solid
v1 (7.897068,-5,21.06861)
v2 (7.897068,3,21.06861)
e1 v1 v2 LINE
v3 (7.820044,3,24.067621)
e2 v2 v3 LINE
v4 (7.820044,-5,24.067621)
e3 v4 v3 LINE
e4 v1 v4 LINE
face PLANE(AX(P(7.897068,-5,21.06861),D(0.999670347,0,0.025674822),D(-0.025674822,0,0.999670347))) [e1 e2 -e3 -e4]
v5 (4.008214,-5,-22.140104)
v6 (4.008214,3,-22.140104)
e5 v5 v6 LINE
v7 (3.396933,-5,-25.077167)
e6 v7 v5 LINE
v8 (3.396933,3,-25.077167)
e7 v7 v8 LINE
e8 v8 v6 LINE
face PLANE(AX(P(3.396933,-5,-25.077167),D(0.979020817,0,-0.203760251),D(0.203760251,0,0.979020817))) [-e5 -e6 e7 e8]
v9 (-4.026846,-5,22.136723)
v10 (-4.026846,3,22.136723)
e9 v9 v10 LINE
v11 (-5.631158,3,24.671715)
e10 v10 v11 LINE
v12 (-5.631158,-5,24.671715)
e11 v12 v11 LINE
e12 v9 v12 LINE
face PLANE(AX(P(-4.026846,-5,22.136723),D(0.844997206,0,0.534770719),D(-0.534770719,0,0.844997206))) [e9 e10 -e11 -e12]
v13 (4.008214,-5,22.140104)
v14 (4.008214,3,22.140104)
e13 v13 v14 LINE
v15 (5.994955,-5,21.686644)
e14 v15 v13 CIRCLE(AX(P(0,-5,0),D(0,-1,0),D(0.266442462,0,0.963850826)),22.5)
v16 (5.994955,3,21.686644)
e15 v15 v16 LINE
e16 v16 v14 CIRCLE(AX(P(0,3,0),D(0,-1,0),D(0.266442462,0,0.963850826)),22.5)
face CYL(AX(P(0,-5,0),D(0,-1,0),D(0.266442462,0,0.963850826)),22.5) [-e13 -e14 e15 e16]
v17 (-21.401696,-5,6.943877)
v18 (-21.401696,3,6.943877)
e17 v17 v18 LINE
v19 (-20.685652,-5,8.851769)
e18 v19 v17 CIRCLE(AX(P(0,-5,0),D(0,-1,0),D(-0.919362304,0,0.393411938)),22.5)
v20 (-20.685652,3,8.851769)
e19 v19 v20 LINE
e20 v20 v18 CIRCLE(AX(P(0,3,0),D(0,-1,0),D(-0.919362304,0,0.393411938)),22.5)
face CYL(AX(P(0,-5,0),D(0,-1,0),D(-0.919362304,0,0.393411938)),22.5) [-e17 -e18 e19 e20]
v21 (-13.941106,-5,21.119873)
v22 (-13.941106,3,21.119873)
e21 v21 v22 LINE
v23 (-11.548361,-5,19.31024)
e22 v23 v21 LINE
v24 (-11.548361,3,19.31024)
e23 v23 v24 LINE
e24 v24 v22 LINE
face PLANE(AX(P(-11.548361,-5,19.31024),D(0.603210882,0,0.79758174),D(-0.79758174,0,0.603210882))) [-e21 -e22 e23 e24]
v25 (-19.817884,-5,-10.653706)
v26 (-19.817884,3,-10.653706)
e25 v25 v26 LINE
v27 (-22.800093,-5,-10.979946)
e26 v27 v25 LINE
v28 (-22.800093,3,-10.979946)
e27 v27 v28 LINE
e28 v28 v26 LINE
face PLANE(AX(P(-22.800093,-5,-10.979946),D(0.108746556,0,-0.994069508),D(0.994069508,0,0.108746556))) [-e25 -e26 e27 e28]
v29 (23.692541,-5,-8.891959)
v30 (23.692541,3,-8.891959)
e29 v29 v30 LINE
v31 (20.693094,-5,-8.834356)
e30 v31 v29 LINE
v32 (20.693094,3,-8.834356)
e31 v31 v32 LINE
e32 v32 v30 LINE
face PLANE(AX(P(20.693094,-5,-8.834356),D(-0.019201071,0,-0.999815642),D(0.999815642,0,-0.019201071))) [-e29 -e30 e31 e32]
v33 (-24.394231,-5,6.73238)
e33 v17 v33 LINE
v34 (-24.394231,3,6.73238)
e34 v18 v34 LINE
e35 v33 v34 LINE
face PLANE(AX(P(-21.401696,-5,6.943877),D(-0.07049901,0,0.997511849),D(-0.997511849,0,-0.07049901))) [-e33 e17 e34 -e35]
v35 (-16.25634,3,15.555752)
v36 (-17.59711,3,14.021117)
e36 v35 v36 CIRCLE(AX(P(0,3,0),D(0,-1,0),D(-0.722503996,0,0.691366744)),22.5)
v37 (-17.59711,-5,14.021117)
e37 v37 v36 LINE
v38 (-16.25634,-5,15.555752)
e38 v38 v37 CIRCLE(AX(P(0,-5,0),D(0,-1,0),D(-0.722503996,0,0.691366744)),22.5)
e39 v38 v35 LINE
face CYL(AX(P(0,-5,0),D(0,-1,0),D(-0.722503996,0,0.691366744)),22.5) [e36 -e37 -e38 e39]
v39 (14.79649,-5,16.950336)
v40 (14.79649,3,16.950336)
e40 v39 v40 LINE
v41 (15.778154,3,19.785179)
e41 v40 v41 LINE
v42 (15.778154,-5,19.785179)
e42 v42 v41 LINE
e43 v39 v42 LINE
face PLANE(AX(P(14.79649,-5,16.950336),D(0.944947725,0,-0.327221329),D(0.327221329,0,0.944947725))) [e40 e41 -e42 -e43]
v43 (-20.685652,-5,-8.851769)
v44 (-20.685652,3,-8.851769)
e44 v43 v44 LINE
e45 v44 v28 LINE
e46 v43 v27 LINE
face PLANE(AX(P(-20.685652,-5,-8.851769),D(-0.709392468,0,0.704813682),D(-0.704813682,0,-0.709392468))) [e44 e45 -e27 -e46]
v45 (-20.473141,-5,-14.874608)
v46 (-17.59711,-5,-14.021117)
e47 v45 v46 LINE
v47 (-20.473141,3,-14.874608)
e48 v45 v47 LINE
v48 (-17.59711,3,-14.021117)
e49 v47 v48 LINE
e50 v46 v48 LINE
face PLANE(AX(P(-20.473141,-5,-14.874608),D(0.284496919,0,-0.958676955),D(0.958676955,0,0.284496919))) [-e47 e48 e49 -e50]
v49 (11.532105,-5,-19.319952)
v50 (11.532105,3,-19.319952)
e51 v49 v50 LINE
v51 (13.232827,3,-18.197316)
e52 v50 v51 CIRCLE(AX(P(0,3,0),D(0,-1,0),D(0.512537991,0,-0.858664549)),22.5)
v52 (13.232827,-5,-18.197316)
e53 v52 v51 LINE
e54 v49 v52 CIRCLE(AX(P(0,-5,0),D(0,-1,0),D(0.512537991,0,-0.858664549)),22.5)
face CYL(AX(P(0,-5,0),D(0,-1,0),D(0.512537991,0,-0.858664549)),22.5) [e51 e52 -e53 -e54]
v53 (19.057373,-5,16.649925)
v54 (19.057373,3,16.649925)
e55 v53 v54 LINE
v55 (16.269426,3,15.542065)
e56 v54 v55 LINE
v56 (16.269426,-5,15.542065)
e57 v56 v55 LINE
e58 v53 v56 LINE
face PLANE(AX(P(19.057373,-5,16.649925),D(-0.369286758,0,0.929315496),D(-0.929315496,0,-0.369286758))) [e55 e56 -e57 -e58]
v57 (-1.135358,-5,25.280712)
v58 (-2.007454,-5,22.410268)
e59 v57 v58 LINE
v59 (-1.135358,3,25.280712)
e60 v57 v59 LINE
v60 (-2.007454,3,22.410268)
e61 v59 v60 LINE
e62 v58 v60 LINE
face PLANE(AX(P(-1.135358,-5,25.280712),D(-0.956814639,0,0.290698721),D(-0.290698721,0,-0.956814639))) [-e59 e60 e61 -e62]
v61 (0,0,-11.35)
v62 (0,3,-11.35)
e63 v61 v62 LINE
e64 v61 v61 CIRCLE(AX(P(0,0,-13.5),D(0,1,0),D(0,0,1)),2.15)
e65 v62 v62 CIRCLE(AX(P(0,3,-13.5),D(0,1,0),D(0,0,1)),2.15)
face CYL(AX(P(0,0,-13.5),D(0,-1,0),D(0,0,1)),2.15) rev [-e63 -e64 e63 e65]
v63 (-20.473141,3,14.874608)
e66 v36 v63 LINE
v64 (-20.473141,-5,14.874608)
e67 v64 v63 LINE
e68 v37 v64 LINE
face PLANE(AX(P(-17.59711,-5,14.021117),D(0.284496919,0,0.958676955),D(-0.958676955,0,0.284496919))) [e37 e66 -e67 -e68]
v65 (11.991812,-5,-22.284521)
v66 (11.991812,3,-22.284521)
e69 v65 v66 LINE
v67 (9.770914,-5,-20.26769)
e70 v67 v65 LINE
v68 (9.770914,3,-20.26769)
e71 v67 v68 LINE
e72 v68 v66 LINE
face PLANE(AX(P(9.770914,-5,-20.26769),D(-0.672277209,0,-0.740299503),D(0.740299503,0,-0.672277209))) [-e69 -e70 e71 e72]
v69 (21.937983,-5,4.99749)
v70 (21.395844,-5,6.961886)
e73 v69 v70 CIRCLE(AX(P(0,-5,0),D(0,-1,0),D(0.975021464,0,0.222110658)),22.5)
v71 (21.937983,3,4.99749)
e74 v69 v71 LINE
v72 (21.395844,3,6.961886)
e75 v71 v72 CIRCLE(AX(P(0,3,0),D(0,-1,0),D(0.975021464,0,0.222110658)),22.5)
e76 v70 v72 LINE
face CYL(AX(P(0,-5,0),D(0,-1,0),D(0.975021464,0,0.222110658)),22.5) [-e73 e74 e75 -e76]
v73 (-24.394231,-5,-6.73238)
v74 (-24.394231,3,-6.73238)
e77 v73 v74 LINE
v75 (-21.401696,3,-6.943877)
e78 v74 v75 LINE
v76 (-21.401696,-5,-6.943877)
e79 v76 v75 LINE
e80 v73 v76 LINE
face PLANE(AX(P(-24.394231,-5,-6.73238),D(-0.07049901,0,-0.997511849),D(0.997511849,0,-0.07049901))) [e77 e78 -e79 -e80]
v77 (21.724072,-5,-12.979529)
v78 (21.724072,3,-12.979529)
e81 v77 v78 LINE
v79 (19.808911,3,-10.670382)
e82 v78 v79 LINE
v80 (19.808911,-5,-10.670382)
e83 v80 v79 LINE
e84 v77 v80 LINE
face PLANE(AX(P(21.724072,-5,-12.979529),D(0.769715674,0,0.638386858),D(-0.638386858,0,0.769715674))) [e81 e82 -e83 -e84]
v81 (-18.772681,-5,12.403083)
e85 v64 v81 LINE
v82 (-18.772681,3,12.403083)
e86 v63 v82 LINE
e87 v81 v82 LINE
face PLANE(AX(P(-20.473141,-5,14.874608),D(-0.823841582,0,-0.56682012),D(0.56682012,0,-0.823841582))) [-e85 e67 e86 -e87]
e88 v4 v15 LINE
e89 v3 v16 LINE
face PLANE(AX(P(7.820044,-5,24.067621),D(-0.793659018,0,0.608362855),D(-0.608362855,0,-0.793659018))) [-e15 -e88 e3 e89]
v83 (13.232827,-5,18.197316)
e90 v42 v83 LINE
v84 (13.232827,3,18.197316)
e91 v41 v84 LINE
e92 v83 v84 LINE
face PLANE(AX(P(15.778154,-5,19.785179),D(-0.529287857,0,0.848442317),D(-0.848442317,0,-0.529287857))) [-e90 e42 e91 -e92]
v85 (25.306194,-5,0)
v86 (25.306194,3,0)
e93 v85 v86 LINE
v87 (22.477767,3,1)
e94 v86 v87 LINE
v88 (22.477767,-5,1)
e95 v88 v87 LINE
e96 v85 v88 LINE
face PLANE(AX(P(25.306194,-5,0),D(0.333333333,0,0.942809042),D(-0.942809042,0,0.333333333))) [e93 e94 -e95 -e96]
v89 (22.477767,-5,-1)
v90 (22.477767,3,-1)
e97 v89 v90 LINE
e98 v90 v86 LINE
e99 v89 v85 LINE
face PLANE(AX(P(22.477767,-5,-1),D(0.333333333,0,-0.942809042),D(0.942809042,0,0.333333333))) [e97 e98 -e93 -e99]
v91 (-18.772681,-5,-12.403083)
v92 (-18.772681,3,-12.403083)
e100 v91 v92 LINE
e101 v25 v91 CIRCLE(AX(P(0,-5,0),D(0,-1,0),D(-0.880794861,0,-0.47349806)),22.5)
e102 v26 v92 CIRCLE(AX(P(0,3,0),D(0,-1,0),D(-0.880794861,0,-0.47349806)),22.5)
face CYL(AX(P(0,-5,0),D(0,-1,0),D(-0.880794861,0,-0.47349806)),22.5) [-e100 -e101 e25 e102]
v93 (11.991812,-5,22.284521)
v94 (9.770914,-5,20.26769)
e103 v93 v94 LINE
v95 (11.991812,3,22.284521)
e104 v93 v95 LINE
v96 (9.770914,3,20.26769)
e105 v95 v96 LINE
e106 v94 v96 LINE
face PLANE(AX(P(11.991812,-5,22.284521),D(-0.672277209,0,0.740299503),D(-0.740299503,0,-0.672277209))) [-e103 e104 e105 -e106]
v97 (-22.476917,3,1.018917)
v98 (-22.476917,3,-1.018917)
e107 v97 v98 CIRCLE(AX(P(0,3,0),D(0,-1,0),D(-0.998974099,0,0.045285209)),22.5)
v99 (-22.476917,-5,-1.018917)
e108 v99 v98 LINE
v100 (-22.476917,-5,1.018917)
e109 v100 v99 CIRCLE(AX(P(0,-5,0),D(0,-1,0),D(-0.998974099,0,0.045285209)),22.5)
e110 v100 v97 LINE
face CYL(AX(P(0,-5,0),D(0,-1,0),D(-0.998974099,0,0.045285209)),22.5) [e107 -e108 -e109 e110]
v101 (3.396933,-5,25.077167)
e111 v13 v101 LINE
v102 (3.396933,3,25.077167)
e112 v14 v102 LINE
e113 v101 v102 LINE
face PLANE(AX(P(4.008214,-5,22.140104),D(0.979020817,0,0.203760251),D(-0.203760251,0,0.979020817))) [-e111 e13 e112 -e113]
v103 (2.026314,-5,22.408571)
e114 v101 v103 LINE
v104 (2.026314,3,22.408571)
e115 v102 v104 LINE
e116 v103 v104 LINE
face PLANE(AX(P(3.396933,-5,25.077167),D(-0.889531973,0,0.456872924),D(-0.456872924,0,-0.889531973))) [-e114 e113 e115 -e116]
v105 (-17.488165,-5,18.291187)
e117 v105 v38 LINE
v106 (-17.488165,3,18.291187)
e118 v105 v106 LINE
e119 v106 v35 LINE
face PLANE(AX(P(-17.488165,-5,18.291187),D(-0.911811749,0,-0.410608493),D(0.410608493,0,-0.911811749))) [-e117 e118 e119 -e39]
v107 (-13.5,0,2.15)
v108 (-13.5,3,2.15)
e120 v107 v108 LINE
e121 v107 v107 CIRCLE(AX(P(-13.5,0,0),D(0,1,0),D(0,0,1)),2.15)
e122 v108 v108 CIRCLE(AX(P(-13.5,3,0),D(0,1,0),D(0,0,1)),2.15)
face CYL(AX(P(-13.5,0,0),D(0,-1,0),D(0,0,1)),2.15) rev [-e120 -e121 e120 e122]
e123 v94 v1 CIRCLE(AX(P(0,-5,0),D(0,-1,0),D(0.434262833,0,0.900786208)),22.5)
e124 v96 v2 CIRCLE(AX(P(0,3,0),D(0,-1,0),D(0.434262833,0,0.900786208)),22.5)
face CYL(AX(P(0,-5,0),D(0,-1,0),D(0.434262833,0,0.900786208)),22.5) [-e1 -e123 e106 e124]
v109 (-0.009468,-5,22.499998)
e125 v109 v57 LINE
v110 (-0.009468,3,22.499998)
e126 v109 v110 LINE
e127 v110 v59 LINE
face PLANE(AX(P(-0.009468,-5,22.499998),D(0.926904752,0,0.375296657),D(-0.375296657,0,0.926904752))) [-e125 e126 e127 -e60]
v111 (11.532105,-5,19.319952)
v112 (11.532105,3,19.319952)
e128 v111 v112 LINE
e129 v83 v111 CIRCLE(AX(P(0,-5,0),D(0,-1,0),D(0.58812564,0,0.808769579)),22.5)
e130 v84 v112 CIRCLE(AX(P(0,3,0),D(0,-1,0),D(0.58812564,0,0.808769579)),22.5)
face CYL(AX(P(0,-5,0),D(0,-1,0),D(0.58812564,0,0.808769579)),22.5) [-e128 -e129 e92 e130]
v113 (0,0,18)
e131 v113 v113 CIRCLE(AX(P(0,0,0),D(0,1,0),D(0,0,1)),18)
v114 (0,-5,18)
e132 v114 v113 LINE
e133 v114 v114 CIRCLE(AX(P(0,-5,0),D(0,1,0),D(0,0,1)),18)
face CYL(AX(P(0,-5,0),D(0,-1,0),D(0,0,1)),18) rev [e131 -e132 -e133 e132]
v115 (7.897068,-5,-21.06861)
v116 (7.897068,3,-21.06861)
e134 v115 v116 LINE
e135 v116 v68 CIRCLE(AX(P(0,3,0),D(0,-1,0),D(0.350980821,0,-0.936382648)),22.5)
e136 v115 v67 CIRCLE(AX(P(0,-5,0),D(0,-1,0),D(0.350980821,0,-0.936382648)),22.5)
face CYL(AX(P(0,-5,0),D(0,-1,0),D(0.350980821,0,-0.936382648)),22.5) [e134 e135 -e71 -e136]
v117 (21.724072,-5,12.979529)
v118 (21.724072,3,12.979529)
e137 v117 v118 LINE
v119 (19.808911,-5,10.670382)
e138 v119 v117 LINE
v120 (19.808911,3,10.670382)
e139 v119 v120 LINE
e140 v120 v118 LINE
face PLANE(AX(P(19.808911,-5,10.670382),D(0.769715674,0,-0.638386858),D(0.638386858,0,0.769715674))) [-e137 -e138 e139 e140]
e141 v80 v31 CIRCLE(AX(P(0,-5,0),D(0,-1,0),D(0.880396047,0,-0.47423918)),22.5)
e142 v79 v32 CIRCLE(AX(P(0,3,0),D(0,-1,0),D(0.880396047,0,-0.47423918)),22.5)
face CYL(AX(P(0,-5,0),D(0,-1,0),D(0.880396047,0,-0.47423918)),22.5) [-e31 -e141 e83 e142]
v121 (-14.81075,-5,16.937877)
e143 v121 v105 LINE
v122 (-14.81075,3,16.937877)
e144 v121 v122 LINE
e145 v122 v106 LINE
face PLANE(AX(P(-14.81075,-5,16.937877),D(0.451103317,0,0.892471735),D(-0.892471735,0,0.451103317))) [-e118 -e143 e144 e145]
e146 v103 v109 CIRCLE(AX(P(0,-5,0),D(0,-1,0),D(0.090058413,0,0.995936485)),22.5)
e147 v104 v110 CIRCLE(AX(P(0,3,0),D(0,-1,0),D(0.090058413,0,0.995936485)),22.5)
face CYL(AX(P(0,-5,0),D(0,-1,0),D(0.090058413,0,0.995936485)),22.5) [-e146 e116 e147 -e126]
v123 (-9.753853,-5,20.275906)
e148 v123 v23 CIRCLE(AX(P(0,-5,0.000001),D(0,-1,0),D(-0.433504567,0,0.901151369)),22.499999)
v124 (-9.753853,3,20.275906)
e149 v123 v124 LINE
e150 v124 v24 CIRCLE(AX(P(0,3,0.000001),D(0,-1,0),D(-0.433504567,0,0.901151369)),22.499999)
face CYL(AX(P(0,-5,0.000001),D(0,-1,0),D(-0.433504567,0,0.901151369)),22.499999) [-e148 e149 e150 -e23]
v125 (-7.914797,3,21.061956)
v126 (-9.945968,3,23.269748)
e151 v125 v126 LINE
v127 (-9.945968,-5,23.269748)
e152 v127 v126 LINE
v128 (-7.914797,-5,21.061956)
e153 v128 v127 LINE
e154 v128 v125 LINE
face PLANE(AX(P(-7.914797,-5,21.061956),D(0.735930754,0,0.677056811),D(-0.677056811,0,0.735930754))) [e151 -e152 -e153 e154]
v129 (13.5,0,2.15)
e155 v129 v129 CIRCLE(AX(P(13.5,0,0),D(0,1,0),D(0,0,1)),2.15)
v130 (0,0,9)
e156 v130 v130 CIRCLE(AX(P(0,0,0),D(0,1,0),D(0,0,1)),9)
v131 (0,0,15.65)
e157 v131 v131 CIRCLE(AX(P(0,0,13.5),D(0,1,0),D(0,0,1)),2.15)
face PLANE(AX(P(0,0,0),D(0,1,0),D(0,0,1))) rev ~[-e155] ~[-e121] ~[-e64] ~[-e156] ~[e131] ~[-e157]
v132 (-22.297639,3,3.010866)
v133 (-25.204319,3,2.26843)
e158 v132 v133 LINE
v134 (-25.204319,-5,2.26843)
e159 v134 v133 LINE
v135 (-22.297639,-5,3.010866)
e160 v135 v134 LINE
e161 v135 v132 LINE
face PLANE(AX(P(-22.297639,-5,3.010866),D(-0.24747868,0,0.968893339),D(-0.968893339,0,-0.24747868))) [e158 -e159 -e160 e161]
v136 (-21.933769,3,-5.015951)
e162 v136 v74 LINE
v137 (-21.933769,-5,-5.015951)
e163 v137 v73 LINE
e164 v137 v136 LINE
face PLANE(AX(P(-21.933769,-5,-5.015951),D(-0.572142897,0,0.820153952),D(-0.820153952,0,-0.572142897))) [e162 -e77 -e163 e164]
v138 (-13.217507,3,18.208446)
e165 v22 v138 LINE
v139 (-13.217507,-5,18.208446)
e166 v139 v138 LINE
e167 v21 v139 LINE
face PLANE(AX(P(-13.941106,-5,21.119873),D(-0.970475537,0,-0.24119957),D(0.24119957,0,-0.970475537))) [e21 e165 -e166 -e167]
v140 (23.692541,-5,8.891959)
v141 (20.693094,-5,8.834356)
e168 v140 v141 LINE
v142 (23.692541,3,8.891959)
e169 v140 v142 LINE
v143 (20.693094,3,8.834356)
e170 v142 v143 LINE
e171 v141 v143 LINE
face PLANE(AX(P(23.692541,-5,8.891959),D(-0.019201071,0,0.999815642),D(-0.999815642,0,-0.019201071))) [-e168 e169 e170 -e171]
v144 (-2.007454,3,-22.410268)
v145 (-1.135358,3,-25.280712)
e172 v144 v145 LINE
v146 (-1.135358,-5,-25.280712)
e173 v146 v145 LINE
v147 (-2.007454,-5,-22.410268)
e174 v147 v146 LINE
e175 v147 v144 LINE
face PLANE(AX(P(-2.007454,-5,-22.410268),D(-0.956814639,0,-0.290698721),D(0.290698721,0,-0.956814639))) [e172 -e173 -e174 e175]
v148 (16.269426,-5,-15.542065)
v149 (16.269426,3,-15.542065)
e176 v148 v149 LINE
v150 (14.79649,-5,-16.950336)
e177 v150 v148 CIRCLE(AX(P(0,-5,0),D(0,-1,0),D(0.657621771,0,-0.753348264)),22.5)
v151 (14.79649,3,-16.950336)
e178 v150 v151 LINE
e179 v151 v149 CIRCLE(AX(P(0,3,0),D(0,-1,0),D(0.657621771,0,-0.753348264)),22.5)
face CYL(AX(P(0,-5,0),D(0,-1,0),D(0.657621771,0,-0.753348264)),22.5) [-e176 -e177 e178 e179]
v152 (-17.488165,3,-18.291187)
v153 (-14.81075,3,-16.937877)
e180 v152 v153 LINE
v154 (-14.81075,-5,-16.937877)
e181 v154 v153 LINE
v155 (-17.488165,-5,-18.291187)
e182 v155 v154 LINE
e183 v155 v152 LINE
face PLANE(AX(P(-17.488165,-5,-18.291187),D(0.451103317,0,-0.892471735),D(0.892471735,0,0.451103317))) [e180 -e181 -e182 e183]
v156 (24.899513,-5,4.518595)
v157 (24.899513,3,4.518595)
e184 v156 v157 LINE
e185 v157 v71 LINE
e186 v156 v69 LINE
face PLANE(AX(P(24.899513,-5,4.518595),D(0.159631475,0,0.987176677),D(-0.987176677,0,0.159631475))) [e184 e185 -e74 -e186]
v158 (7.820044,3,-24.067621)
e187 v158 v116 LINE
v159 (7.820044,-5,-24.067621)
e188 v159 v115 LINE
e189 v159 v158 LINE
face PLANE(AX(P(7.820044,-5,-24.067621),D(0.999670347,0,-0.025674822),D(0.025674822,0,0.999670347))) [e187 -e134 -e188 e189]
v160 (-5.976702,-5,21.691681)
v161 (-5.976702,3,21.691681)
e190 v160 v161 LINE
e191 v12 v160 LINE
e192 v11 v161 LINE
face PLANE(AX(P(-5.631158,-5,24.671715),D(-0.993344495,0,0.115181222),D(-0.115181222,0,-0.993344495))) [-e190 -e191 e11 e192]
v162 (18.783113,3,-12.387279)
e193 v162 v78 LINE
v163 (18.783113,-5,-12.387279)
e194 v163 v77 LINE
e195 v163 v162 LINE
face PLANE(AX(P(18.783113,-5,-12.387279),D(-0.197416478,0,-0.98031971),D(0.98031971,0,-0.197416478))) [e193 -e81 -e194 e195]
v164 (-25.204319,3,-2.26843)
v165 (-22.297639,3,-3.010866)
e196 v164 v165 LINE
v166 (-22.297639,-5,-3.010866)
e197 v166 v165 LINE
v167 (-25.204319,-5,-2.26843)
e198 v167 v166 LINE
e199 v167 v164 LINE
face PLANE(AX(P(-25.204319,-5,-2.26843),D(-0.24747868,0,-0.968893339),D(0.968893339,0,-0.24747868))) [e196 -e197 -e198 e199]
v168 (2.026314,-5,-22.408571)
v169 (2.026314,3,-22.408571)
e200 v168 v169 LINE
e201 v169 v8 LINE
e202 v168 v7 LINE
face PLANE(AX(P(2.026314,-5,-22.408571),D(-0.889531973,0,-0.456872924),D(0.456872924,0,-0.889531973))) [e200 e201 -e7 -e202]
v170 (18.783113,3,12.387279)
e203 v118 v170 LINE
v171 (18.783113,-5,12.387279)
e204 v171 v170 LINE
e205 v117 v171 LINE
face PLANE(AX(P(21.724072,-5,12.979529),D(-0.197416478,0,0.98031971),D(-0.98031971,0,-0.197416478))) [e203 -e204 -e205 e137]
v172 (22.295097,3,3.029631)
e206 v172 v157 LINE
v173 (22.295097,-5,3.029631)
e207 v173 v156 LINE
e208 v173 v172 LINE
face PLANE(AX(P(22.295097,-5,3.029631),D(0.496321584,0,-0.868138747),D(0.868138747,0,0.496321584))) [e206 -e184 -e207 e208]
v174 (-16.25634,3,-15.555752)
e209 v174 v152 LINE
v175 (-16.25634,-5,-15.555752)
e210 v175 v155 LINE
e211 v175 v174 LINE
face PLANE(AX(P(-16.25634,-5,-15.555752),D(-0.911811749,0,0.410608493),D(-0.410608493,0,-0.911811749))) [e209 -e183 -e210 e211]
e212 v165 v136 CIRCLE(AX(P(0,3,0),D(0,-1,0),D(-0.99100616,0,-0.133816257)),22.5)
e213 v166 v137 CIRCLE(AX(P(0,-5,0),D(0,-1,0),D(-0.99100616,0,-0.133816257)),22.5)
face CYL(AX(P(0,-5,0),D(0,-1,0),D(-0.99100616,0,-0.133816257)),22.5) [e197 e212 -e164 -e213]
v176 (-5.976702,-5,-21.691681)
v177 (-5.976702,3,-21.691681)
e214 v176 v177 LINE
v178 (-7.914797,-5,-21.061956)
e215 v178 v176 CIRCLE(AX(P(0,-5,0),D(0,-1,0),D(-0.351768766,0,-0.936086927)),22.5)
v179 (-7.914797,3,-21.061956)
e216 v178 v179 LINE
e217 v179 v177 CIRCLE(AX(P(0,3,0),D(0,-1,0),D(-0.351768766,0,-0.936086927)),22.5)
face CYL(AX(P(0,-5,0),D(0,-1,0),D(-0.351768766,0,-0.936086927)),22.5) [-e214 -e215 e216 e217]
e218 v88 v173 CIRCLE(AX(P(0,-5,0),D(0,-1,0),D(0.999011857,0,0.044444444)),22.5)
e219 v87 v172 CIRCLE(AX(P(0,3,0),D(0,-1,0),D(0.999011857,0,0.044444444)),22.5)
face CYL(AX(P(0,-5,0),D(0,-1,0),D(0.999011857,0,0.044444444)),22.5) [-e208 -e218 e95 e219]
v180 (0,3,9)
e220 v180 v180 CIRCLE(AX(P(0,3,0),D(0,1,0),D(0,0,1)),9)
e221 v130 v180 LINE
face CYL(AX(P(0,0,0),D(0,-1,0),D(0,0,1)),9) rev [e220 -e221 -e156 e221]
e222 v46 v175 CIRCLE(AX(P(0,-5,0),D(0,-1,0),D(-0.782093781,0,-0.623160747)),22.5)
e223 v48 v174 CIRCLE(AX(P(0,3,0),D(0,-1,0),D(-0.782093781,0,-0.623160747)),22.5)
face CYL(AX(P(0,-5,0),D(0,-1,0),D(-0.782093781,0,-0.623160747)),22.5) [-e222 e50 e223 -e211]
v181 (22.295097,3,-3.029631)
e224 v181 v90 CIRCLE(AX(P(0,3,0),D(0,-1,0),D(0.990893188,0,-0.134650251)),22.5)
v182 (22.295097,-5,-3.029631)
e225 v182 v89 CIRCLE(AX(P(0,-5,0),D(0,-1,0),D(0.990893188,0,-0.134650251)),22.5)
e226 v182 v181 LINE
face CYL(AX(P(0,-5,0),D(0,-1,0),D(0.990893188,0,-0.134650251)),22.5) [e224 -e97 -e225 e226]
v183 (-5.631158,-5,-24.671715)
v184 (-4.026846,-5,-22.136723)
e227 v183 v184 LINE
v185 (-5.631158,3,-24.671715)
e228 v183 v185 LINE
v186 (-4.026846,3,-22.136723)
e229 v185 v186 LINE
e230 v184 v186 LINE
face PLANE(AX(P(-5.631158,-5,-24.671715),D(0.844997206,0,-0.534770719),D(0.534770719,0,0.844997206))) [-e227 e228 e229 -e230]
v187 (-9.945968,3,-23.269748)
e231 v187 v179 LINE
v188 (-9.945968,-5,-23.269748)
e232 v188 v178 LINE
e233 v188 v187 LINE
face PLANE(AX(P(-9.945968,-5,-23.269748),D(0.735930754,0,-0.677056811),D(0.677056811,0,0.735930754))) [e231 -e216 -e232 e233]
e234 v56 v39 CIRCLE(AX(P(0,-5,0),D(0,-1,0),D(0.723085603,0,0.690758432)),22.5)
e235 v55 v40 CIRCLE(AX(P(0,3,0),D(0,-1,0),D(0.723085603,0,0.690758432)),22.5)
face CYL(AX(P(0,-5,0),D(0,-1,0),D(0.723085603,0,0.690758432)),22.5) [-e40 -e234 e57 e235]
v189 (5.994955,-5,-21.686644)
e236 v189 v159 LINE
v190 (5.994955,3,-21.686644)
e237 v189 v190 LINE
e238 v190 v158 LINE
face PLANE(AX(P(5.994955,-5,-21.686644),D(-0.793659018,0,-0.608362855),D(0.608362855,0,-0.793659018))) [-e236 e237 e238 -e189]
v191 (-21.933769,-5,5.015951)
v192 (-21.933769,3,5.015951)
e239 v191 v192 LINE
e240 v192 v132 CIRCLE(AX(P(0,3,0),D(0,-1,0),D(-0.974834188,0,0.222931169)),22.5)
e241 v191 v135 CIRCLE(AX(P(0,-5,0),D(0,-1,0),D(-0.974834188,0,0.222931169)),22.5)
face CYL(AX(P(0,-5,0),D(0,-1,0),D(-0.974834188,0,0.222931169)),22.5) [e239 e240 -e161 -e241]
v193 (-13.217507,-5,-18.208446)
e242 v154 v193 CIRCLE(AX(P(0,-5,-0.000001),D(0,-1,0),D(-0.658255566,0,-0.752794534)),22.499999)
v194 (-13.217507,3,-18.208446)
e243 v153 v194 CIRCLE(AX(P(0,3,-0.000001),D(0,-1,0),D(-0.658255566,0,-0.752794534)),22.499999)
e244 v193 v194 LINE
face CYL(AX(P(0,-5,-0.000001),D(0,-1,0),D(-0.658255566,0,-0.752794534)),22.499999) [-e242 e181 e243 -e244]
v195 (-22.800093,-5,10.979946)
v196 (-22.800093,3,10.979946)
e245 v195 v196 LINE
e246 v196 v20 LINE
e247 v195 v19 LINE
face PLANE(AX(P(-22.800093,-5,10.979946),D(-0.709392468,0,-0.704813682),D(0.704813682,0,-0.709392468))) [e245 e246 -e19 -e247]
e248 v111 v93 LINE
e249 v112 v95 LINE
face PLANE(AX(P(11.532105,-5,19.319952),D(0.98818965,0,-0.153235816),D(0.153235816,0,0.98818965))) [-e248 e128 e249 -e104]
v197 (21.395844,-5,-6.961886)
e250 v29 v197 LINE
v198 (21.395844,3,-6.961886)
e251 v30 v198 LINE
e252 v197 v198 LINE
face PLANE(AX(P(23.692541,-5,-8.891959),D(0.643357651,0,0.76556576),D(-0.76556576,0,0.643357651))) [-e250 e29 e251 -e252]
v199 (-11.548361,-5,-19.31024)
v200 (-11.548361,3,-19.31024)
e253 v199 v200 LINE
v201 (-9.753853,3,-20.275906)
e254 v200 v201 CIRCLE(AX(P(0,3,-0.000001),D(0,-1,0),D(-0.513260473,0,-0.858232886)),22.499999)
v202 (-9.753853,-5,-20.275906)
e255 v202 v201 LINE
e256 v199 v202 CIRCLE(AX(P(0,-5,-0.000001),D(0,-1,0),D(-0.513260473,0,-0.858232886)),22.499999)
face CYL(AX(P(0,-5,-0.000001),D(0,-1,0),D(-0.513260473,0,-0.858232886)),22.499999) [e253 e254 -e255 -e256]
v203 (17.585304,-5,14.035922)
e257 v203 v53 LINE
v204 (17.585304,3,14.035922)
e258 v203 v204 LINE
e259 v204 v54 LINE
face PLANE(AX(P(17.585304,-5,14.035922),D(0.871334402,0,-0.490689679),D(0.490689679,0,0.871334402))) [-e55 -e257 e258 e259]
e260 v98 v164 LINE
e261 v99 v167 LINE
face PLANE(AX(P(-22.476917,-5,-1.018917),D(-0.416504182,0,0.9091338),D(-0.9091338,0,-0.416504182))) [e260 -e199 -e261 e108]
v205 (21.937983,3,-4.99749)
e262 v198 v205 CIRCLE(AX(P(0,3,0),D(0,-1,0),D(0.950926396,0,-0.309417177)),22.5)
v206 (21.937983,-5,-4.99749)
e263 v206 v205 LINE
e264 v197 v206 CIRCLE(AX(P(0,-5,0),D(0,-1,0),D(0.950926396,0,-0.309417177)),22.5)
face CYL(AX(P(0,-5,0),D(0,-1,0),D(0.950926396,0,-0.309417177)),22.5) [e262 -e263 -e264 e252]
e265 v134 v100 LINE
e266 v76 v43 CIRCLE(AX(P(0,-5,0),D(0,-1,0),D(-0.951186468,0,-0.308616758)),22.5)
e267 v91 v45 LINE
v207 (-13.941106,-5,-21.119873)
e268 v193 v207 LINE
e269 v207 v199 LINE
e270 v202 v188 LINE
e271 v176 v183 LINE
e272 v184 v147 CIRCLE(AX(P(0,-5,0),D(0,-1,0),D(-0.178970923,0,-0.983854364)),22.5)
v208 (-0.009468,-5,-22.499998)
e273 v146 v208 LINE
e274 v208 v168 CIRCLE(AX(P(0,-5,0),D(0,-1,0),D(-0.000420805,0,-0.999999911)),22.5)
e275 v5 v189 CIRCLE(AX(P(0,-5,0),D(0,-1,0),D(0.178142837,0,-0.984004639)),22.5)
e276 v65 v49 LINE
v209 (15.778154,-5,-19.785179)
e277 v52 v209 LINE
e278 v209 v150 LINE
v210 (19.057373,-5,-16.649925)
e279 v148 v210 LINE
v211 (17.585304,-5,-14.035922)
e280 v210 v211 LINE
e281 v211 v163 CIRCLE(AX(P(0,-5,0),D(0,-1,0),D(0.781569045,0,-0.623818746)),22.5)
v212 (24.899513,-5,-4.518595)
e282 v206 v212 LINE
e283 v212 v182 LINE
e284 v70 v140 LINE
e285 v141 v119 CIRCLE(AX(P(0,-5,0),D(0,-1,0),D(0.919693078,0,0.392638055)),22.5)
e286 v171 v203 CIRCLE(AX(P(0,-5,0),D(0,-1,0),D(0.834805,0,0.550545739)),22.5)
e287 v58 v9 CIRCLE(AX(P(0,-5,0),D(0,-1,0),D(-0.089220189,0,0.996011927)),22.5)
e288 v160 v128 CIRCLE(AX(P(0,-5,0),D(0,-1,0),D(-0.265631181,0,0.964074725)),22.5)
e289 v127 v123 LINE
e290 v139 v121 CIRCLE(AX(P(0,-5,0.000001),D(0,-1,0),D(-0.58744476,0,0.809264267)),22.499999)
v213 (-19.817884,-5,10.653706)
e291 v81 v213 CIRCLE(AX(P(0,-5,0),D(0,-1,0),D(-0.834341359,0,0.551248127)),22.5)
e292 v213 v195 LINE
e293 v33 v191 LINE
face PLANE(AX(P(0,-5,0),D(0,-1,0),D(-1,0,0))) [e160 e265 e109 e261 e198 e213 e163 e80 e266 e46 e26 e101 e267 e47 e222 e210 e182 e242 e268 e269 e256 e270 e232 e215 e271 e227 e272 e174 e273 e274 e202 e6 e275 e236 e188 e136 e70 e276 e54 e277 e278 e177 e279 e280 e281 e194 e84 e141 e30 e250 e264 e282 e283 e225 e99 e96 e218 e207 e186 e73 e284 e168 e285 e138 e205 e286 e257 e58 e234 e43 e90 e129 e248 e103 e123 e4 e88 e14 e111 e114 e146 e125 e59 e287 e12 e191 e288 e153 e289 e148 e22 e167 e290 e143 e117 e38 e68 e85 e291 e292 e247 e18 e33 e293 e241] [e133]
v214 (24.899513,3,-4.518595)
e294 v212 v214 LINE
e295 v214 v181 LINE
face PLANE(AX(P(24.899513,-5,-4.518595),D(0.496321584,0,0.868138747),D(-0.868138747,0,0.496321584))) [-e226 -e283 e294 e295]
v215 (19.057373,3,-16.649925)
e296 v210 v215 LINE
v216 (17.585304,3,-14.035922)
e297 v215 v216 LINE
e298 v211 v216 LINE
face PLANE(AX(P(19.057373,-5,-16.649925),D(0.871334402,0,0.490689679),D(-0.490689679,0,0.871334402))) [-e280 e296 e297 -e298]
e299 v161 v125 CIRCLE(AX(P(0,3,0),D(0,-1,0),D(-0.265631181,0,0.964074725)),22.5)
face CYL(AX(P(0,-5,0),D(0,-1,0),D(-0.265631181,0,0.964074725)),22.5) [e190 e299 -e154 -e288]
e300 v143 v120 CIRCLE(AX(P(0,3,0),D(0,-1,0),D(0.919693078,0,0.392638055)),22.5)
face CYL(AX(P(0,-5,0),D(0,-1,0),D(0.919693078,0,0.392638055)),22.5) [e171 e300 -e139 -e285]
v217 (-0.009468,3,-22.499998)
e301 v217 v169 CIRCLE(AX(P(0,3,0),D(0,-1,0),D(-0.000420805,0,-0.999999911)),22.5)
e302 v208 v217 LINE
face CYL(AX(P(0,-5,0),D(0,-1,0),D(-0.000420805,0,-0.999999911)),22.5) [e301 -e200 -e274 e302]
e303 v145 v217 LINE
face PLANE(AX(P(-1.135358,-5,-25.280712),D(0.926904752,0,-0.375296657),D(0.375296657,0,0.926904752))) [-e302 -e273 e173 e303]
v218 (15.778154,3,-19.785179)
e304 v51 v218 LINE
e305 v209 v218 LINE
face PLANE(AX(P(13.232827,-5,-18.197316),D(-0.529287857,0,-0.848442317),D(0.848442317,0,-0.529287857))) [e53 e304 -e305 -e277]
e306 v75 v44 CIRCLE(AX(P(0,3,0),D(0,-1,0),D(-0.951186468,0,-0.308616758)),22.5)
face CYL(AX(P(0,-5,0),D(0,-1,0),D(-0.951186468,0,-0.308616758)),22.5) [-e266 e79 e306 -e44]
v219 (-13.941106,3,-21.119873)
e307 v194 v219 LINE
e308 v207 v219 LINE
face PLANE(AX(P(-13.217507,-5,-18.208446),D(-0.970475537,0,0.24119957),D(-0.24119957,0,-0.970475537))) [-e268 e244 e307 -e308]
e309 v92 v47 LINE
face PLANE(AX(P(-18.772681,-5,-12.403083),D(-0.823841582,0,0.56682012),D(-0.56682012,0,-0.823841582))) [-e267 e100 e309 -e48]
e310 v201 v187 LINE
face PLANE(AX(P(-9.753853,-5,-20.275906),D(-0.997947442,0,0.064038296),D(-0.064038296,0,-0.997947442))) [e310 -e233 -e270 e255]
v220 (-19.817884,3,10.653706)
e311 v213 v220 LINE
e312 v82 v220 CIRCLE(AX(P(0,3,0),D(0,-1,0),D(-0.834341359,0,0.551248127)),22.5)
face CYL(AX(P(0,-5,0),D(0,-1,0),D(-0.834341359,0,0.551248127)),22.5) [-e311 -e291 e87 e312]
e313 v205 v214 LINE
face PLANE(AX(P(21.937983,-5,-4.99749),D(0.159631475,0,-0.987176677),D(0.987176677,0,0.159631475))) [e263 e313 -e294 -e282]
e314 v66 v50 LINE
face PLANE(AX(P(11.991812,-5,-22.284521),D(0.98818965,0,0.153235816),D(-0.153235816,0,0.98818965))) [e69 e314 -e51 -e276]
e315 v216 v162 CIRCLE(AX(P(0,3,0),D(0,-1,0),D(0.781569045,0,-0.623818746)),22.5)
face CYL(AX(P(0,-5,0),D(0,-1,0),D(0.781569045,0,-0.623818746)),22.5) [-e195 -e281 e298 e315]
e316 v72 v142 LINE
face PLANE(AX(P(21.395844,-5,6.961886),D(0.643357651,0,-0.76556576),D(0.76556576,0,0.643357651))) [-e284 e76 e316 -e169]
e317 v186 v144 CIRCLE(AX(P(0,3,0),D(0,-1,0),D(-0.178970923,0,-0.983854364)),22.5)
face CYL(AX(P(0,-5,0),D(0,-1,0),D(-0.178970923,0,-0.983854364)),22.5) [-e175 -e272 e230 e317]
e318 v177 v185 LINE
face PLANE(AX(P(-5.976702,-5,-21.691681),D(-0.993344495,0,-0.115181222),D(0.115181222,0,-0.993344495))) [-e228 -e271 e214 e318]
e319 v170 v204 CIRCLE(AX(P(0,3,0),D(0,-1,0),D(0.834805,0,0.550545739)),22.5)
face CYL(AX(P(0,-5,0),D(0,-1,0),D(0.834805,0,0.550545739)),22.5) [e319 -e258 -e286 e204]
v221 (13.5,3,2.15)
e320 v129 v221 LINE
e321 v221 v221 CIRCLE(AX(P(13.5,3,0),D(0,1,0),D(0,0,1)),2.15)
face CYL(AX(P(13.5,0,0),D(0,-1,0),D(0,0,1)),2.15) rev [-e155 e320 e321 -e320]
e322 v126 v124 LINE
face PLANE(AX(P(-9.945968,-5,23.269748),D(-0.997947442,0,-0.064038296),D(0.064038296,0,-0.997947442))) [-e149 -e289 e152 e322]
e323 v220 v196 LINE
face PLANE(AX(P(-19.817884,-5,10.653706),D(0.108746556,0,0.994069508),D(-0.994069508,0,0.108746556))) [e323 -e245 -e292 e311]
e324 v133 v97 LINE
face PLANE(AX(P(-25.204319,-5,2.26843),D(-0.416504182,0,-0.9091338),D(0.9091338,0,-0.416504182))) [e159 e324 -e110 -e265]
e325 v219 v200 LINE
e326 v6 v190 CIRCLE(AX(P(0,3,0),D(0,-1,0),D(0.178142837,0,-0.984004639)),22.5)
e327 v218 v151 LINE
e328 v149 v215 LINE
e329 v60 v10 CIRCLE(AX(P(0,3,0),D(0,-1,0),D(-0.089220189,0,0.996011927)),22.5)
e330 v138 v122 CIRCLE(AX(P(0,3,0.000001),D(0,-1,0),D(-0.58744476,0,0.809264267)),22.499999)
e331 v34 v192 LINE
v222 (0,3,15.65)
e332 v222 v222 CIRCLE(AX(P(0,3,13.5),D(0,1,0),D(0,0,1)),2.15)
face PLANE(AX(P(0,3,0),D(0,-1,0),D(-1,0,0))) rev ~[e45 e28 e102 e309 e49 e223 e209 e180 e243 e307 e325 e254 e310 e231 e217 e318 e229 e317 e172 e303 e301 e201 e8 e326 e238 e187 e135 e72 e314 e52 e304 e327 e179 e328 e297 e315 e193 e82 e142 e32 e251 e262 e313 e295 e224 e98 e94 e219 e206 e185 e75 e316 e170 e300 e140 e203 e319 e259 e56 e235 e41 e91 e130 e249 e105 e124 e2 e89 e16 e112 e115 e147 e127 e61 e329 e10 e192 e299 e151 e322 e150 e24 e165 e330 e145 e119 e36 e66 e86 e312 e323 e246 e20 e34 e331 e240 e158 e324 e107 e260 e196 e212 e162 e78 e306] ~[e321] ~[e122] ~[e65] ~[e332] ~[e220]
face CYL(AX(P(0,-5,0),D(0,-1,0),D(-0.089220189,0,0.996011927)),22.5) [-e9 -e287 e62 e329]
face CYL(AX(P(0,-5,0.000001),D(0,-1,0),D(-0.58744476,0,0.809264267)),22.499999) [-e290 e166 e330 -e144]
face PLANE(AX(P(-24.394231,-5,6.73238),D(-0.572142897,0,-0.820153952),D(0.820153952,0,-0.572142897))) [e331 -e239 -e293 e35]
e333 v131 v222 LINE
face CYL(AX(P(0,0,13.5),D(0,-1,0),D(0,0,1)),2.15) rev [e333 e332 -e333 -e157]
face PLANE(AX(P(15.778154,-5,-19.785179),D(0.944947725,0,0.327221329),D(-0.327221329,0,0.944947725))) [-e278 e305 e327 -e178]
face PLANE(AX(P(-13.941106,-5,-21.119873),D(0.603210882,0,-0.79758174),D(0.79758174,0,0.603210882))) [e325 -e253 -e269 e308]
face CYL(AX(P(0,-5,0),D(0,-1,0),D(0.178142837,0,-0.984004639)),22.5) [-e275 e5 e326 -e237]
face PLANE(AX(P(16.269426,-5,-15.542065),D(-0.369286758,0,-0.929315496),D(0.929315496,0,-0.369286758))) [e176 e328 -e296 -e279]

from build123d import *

# Parameters (mm, degrees)
SKETCH1_R           = 18
SKETCH1_R_2         = 9
SKETCH1_R_3         = 2.15
BOSS_EXTRUDE1_DEPTH = 3
BOSS_EXTRUDE2_START = -8
SKETCH2_R           = 18
BOSS_EXTRUDE2_DEPTH = 8


with BuildPart() as part:
    # Sketch1 → Boss-Extrude1 (new body)
    with BuildSketch(Plane(origin=(0, 0, 0), x_dir=(1, 0, 0), z_dir=(0, 1, 0))):
        with Locations(Location((0, 0, 0), (0, 0, 270))):
            Circle(SKETCH1_R)
        with Locations(Location((0, 0, 0), (0, 0, 270))):
            Circle(SKETCH1_R_2, mode=Mode.SUBTRACT)
        with Locations(Location((0, -13.5, 0), (0, 0, 270))):
            Circle(SKETCH1_R_3, mode=Mode.SUBTRACT)
        with Locations(Location((-13.5, 0, 0), (0, 0, 270))):
            Circle(SKETCH1_R_3, mode=Mode.SUBTRACT)
        with Locations(Location((0, 13.5, 0), (0, 0, 270))):
            Circle(SKETCH1_R_3, mode=Mode.SUBTRACT)
        with Locations(Location((13.5, 0, 0), (0, 0, 270))):
            Circle(SKETCH1_R_3, mode=Mode.SUBTRACT)
    extrude(amount=BOSS_EXTRUDE1_DEPTH)

    # Sketch2 → Boss-Extrude2 (add)
    with BuildSketch(Plane(origin=(0, 3, 0), x_dir=(1, 0, 0), z_dir=(0, 1, 0)).offset(BOSS_EXTRUDE2_START)):
        with BuildLine():
            Line((22.477766793, 1), (25.306193918, 0))
            Line((25.306193918, 0), (22.477766793, -1))
            ThreePointArc((22.477766793, -1), (22.409421615, -2.01688445), (22.295096728, -3.029630652))
            Line((22.295096728, -3.029630652), (24.89951297, -4.518595405))
            Line((24.89951297, -4.518595405), (21.937982938, -4.997489829))
            ThreePointArc((21.937982938, -4.997489829), (21.689164366, -5.985829025), (21.39584391, -6.961886482))
            Line((21.39584391, -6.961886482), (23.692541189, -8.891959436))
            Line((23.692541189, -8.891959436), (20.693094262, -8.834356223))
            ThreePointArc((20.693094262, -8.834356223), (20.271799528, -9.76238413), (19.808911064, -10.670381552))
            Line((19.808911064, -10.670381552), (21.724071639, -12.979528574))
            Line((21.724071639, -12.979528574), (18.783112509, -12.387279139))
            ThreePointArc((18.783112509, -12.387279139), (18.202882373, -13.225168177), (17.585303517, -14.03592178))
            Line((17.585303517, -14.03592178), (19.057372553, -16.649924985))
            Line((19.057372553, -16.649924985), (16.269426065, -15.542064712))
            ThreePointArc((16.269426065, -15.542064712), (15.548909602, -16.262884436), (14.796489846, -16.950335932))
            Line((14.796489846, -16.950335932), (15.778153832, -19.785179106))
            Line((15.778153832, -19.785179106), (13.232826882, -18.197315536))
            ThreePointArc((13.232826882, -18.197315536), (12.395182083, -18.777898209), (11.532104817, -19.319952342))
            Line((11.532104817, -19.319952342), (11.991812264, -22.284521292))
            Line((11.991812264, -22.284521292), (9.770913754, -20.267689666))
            ThreePointArc((9.770913754, -20.267689666), (8.843063212, -20.689374882), (7.897068451, -21.068609586))
            Line((7.897068451, -21.068609586), (7.820043984, -24.067620628))
            Line((7.820043984, -24.067620628), (5.994955418, -21.686643575))
            ThreePointArc((5.994955418, -21.686643575), (5.006721014, -21.935878024), (4.008213807, -22.140104383))
            Line((4.008213807, -22.140104383), (3.396933055, -25.077166834))
            Line((3.396933055, -25.077166834), (2.026314283, -22.408570914))
            ThreePointArc((2.026314283, -22.408570914), (1.009458683, -22.477343997), (-0.009468127, -22.499998008))
            Line((-0.009468127, -22.499998008), (-1.135358097, -25.280712264))
            Line((-1.135358097, -25.280712264), (-2.00745426, -22.410268347))
            ThreePointArc((-2.00745426, -22.410268347), (-3.020248481, -22.29636964), (-4.026845748, -22.136723184))
            Line((-4.026845748, -22.136723184), (-5.631157905, -24.671714801))
            Line((-5.631157905, -24.671714801), (-5.976701572, -21.691681316))
            ThreePointArc((-5.976701572, -21.691681316), (-6.952882373, -21.398771617), (-7.914797233, -21.061955863))
            Line((-7.914797233, -21.061955863), (-9.945967666, -23.269748125))
            Line((-9.945967666, -23.269748125), (-9.753852778, -20.275905799))
            ThreePointArc((-9.753852778, -20.275905799), (-10.662044906, -19.813399467), (-11.548360622, -19.31023995))
            Line((-11.548360622, -19.31023995), (-13.941105841, -21.119872597))
            Line((-13.941105841, -21.119872597), (-13.21750713, -18.208445987))
            ThreePointArc((-13.21750713, -18.208445987), (-14.028520542, -17.591208356), (-14.810750199, -16.937877037))
            Line((-14.810750199, -16.937877037), (-17.488165405, -18.291186987))
            Line((-17.488165405, -18.291186987), (-16.256339927, -15.555751739))
            ThreePointArc((-16.256339927, -15.555751739), (-16.944107985, -14.803621334), (-17.597110079, -14.02111682))
            Line((-17.597110079, -14.02111682), (-20.473140942, -14.874607576))
            Line((-20.473140942, -14.874607576), (-18.772680583, -12.403082831))
            ThreePointArc((-18.772680583, -12.403082831), (-19.315097856, -11.540233742), (-19.817884361, -10.653706371))
            Line((-19.817884361, -10.653706371), (-22.800092885, -10.97994604))
            Line((-22.800092885, -10.97994604), (-20.68565184, -8.851768635))
            ThreePointArc((-20.68565184, -8.851768635), (-21.065284589, -7.905933542), (-21.401695534, -6.943877034))
            Line((-21.401695534, -6.943877034), (-24.394231082, -6.732380003))
            Line((-24.394231082, -6.732380003), (-21.933769225, -5.015951312))
            ThreePointArc((-21.933769225, -5.015951312), (-22.138415743, -4.017530133), (-22.297638603, -3.010865775))
            Line((-22.297638603, -3.010865775), (-25.204318621, -2.268429734))
            Line((-25.204318621, -2.268429734), (-22.476917221, -1.018917187))
            ThreePointArc((-22.476917221, -1.018917187), (-22.5, 0), (-22.476917221, 1.018917187))
            Line((-22.476917221, 1.018917187), (-25.204318621, 2.268429734))
            Line((-25.204318621, 2.268429734), (-22.297638603, 3.010865775))
            ThreePointArc((-22.297638603, 3.010865775), (-22.138415743, 4.017530133), (-21.933769225, 5.015951312))
            Line((-21.933769225, 5.015951312), (-24.394231082, 6.732380003))
            Line((-24.394231082, 6.732380003), (-21.401695534, 6.943877034))
            ThreePointArc((-21.401695534, 6.943877034), (-21.065284589, 7.905933542), (-20.68565184, 8.851768635))
            Line((-20.68565184, 8.851768635), (-22.800092885, 10.97994604))
            Line((-22.800092885, 10.97994604), (-19.817884361, 10.653706371))
            ThreePointArc((-19.817884361, 10.653706371), (-19.315097856, 11.540233742), (-18.772680583, 12.403082831))
            Line((-18.772680583, 12.403082831), (-20.473140942, 14.874607576))
            Line((-20.473140942, 14.874607576), (-17.597110079, 14.02111682))
            ThreePointArc((-17.597110079, 14.02111682), (-16.944107985, 14.803621334), (-16.256339927, 15.555751739))
            Line((-16.256339927, 15.555751739), (-17.488165405, 18.291186987))
            Line((-17.488165405, 18.291186987), (-14.810750199, 16.937877037))
            ThreePointArc((-14.810750199, 16.937877037), (-14.028520542, 17.591208356), (-13.21750713, 18.208445987))
            Line((-13.21750713, 18.208445987), (-13.941105841, 21.119872597))
            Line((-13.941105841, 21.119872597), (-11.548360622, 19.31023995))
            ThreePointArc((-11.548360622, 19.31023995), (-10.662044906, 19.813399467), (-9.753852778, 20.275905799))
            Line((-9.753852778, 20.275905799), (-9.945967666, 23.269748125))
            Line((-9.945967666, 23.269748125), (-7.914797233, 21.061955863))
            ThreePointArc((-7.914797233, 21.061955863), (-6.952882373, 21.398771617), (-5.976701572, 21.691681316))
            Line((-5.976701572, 21.691681316), (-5.631157905, 24.671714801))
            Line((-5.631157905, 24.671714801), (-4.026845748, 22.136723184))
            ThreePointArc((-4.026845748, 22.136723184), (-3.020248481, 22.29636964), (-2.00745426, 22.410268347))
            Line((-2.00745426, 22.410268347), (-1.135358097, 25.280712264))
            Line((-1.135358097, 25.280712264), (-0.009468127, 22.499998008))
            ThreePointArc((-0.009468127, 22.499998008), (1.009458683, 22.477343997), (2.026314283, 22.408570914))
            Line((2.026314283, 22.408570914), (3.396933055, 25.077166834))
            Line((3.396933055, 25.077166834), (4.008213807, 22.140104383))
            ThreePointArc((4.008213807, 22.140104383), (5.006721014, 21.935878024), (5.994955418, 21.686643575))
            Line((5.994955418, 21.686643575), (7.820043984, 24.067620628))
            Line((7.820043984, 24.067620628), (7.897068451, 21.068609586))
            ThreePointArc((7.897068451, 21.068609586), (8.843063212, 20.689374882), (9.770913754, 20.267689666))
            Line((9.770913754, 20.267689666), (11.991812264, 22.284521292))
            Line((11.991812264, 22.284521292), (11.532104817, 19.319952342))
            ThreePointArc((11.532104817, 19.319952342), (12.395182083, 18.777898209), (13.232826882, 18.197315536))
            Line((13.232826882, 18.197315536), (15.778153832, 19.785179106))
            Line((15.778153832, 19.785179106), (14.796489846, 16.950335932))
            ThreePointArc((14.796489846, 16.950335932), (15.548909602, 16.262884436), (16.269426065, 15.542064712))
            Line((16.269426065, 15.542064712), (19.057372553, 16.649924985))
            Line((19.057372553, 16.649924985), (17.585303517, 14.03592178))
            ThreePointArc((17.585303517, 14.03592178), (18.202882373, 13.225168177), (18.783112509, 12.387279139))
            Line((18.783112509, 12.387279139), (21.724071639, 12.979528574))
            Line((21.724071639, 12.979528574), (19.808911064, 10.670381552))
            ThreePointArc((19.808911064, 10.670381552), (20.271799528, 9.76238413), (20.693094262, 8.834356223))
            Line((20.693094262, 8.834356223), (23.692541189, 8.891959436))
            Line((23.692541189, 8.891959436), (21.39584391, 6.961886482))
            ThreePointArc((21.39584391, 6.961886482), (21.689164366, 5.985829025), (21.937982938, 4.997489829))
            Line((21.937982938, 4.997489829), (24.89951297, 4.518595405))
            Line((24.89951297, 4.518595405), (22.295096728, 3.029630652))
            ThreePointArc((22.295096728, 3.029630652), (22.409421615, 2.01688445), (22.477766793, 1))
        make_face()
        with Locations(Location((0, 0, 0), (0, 0, 270))):
            Circle(SKETCH2_R, mode=Mode.SUBTRACT)
    extrude(amount=BOSS_EXTRUDE2_DEPTH)


solid = part.part
